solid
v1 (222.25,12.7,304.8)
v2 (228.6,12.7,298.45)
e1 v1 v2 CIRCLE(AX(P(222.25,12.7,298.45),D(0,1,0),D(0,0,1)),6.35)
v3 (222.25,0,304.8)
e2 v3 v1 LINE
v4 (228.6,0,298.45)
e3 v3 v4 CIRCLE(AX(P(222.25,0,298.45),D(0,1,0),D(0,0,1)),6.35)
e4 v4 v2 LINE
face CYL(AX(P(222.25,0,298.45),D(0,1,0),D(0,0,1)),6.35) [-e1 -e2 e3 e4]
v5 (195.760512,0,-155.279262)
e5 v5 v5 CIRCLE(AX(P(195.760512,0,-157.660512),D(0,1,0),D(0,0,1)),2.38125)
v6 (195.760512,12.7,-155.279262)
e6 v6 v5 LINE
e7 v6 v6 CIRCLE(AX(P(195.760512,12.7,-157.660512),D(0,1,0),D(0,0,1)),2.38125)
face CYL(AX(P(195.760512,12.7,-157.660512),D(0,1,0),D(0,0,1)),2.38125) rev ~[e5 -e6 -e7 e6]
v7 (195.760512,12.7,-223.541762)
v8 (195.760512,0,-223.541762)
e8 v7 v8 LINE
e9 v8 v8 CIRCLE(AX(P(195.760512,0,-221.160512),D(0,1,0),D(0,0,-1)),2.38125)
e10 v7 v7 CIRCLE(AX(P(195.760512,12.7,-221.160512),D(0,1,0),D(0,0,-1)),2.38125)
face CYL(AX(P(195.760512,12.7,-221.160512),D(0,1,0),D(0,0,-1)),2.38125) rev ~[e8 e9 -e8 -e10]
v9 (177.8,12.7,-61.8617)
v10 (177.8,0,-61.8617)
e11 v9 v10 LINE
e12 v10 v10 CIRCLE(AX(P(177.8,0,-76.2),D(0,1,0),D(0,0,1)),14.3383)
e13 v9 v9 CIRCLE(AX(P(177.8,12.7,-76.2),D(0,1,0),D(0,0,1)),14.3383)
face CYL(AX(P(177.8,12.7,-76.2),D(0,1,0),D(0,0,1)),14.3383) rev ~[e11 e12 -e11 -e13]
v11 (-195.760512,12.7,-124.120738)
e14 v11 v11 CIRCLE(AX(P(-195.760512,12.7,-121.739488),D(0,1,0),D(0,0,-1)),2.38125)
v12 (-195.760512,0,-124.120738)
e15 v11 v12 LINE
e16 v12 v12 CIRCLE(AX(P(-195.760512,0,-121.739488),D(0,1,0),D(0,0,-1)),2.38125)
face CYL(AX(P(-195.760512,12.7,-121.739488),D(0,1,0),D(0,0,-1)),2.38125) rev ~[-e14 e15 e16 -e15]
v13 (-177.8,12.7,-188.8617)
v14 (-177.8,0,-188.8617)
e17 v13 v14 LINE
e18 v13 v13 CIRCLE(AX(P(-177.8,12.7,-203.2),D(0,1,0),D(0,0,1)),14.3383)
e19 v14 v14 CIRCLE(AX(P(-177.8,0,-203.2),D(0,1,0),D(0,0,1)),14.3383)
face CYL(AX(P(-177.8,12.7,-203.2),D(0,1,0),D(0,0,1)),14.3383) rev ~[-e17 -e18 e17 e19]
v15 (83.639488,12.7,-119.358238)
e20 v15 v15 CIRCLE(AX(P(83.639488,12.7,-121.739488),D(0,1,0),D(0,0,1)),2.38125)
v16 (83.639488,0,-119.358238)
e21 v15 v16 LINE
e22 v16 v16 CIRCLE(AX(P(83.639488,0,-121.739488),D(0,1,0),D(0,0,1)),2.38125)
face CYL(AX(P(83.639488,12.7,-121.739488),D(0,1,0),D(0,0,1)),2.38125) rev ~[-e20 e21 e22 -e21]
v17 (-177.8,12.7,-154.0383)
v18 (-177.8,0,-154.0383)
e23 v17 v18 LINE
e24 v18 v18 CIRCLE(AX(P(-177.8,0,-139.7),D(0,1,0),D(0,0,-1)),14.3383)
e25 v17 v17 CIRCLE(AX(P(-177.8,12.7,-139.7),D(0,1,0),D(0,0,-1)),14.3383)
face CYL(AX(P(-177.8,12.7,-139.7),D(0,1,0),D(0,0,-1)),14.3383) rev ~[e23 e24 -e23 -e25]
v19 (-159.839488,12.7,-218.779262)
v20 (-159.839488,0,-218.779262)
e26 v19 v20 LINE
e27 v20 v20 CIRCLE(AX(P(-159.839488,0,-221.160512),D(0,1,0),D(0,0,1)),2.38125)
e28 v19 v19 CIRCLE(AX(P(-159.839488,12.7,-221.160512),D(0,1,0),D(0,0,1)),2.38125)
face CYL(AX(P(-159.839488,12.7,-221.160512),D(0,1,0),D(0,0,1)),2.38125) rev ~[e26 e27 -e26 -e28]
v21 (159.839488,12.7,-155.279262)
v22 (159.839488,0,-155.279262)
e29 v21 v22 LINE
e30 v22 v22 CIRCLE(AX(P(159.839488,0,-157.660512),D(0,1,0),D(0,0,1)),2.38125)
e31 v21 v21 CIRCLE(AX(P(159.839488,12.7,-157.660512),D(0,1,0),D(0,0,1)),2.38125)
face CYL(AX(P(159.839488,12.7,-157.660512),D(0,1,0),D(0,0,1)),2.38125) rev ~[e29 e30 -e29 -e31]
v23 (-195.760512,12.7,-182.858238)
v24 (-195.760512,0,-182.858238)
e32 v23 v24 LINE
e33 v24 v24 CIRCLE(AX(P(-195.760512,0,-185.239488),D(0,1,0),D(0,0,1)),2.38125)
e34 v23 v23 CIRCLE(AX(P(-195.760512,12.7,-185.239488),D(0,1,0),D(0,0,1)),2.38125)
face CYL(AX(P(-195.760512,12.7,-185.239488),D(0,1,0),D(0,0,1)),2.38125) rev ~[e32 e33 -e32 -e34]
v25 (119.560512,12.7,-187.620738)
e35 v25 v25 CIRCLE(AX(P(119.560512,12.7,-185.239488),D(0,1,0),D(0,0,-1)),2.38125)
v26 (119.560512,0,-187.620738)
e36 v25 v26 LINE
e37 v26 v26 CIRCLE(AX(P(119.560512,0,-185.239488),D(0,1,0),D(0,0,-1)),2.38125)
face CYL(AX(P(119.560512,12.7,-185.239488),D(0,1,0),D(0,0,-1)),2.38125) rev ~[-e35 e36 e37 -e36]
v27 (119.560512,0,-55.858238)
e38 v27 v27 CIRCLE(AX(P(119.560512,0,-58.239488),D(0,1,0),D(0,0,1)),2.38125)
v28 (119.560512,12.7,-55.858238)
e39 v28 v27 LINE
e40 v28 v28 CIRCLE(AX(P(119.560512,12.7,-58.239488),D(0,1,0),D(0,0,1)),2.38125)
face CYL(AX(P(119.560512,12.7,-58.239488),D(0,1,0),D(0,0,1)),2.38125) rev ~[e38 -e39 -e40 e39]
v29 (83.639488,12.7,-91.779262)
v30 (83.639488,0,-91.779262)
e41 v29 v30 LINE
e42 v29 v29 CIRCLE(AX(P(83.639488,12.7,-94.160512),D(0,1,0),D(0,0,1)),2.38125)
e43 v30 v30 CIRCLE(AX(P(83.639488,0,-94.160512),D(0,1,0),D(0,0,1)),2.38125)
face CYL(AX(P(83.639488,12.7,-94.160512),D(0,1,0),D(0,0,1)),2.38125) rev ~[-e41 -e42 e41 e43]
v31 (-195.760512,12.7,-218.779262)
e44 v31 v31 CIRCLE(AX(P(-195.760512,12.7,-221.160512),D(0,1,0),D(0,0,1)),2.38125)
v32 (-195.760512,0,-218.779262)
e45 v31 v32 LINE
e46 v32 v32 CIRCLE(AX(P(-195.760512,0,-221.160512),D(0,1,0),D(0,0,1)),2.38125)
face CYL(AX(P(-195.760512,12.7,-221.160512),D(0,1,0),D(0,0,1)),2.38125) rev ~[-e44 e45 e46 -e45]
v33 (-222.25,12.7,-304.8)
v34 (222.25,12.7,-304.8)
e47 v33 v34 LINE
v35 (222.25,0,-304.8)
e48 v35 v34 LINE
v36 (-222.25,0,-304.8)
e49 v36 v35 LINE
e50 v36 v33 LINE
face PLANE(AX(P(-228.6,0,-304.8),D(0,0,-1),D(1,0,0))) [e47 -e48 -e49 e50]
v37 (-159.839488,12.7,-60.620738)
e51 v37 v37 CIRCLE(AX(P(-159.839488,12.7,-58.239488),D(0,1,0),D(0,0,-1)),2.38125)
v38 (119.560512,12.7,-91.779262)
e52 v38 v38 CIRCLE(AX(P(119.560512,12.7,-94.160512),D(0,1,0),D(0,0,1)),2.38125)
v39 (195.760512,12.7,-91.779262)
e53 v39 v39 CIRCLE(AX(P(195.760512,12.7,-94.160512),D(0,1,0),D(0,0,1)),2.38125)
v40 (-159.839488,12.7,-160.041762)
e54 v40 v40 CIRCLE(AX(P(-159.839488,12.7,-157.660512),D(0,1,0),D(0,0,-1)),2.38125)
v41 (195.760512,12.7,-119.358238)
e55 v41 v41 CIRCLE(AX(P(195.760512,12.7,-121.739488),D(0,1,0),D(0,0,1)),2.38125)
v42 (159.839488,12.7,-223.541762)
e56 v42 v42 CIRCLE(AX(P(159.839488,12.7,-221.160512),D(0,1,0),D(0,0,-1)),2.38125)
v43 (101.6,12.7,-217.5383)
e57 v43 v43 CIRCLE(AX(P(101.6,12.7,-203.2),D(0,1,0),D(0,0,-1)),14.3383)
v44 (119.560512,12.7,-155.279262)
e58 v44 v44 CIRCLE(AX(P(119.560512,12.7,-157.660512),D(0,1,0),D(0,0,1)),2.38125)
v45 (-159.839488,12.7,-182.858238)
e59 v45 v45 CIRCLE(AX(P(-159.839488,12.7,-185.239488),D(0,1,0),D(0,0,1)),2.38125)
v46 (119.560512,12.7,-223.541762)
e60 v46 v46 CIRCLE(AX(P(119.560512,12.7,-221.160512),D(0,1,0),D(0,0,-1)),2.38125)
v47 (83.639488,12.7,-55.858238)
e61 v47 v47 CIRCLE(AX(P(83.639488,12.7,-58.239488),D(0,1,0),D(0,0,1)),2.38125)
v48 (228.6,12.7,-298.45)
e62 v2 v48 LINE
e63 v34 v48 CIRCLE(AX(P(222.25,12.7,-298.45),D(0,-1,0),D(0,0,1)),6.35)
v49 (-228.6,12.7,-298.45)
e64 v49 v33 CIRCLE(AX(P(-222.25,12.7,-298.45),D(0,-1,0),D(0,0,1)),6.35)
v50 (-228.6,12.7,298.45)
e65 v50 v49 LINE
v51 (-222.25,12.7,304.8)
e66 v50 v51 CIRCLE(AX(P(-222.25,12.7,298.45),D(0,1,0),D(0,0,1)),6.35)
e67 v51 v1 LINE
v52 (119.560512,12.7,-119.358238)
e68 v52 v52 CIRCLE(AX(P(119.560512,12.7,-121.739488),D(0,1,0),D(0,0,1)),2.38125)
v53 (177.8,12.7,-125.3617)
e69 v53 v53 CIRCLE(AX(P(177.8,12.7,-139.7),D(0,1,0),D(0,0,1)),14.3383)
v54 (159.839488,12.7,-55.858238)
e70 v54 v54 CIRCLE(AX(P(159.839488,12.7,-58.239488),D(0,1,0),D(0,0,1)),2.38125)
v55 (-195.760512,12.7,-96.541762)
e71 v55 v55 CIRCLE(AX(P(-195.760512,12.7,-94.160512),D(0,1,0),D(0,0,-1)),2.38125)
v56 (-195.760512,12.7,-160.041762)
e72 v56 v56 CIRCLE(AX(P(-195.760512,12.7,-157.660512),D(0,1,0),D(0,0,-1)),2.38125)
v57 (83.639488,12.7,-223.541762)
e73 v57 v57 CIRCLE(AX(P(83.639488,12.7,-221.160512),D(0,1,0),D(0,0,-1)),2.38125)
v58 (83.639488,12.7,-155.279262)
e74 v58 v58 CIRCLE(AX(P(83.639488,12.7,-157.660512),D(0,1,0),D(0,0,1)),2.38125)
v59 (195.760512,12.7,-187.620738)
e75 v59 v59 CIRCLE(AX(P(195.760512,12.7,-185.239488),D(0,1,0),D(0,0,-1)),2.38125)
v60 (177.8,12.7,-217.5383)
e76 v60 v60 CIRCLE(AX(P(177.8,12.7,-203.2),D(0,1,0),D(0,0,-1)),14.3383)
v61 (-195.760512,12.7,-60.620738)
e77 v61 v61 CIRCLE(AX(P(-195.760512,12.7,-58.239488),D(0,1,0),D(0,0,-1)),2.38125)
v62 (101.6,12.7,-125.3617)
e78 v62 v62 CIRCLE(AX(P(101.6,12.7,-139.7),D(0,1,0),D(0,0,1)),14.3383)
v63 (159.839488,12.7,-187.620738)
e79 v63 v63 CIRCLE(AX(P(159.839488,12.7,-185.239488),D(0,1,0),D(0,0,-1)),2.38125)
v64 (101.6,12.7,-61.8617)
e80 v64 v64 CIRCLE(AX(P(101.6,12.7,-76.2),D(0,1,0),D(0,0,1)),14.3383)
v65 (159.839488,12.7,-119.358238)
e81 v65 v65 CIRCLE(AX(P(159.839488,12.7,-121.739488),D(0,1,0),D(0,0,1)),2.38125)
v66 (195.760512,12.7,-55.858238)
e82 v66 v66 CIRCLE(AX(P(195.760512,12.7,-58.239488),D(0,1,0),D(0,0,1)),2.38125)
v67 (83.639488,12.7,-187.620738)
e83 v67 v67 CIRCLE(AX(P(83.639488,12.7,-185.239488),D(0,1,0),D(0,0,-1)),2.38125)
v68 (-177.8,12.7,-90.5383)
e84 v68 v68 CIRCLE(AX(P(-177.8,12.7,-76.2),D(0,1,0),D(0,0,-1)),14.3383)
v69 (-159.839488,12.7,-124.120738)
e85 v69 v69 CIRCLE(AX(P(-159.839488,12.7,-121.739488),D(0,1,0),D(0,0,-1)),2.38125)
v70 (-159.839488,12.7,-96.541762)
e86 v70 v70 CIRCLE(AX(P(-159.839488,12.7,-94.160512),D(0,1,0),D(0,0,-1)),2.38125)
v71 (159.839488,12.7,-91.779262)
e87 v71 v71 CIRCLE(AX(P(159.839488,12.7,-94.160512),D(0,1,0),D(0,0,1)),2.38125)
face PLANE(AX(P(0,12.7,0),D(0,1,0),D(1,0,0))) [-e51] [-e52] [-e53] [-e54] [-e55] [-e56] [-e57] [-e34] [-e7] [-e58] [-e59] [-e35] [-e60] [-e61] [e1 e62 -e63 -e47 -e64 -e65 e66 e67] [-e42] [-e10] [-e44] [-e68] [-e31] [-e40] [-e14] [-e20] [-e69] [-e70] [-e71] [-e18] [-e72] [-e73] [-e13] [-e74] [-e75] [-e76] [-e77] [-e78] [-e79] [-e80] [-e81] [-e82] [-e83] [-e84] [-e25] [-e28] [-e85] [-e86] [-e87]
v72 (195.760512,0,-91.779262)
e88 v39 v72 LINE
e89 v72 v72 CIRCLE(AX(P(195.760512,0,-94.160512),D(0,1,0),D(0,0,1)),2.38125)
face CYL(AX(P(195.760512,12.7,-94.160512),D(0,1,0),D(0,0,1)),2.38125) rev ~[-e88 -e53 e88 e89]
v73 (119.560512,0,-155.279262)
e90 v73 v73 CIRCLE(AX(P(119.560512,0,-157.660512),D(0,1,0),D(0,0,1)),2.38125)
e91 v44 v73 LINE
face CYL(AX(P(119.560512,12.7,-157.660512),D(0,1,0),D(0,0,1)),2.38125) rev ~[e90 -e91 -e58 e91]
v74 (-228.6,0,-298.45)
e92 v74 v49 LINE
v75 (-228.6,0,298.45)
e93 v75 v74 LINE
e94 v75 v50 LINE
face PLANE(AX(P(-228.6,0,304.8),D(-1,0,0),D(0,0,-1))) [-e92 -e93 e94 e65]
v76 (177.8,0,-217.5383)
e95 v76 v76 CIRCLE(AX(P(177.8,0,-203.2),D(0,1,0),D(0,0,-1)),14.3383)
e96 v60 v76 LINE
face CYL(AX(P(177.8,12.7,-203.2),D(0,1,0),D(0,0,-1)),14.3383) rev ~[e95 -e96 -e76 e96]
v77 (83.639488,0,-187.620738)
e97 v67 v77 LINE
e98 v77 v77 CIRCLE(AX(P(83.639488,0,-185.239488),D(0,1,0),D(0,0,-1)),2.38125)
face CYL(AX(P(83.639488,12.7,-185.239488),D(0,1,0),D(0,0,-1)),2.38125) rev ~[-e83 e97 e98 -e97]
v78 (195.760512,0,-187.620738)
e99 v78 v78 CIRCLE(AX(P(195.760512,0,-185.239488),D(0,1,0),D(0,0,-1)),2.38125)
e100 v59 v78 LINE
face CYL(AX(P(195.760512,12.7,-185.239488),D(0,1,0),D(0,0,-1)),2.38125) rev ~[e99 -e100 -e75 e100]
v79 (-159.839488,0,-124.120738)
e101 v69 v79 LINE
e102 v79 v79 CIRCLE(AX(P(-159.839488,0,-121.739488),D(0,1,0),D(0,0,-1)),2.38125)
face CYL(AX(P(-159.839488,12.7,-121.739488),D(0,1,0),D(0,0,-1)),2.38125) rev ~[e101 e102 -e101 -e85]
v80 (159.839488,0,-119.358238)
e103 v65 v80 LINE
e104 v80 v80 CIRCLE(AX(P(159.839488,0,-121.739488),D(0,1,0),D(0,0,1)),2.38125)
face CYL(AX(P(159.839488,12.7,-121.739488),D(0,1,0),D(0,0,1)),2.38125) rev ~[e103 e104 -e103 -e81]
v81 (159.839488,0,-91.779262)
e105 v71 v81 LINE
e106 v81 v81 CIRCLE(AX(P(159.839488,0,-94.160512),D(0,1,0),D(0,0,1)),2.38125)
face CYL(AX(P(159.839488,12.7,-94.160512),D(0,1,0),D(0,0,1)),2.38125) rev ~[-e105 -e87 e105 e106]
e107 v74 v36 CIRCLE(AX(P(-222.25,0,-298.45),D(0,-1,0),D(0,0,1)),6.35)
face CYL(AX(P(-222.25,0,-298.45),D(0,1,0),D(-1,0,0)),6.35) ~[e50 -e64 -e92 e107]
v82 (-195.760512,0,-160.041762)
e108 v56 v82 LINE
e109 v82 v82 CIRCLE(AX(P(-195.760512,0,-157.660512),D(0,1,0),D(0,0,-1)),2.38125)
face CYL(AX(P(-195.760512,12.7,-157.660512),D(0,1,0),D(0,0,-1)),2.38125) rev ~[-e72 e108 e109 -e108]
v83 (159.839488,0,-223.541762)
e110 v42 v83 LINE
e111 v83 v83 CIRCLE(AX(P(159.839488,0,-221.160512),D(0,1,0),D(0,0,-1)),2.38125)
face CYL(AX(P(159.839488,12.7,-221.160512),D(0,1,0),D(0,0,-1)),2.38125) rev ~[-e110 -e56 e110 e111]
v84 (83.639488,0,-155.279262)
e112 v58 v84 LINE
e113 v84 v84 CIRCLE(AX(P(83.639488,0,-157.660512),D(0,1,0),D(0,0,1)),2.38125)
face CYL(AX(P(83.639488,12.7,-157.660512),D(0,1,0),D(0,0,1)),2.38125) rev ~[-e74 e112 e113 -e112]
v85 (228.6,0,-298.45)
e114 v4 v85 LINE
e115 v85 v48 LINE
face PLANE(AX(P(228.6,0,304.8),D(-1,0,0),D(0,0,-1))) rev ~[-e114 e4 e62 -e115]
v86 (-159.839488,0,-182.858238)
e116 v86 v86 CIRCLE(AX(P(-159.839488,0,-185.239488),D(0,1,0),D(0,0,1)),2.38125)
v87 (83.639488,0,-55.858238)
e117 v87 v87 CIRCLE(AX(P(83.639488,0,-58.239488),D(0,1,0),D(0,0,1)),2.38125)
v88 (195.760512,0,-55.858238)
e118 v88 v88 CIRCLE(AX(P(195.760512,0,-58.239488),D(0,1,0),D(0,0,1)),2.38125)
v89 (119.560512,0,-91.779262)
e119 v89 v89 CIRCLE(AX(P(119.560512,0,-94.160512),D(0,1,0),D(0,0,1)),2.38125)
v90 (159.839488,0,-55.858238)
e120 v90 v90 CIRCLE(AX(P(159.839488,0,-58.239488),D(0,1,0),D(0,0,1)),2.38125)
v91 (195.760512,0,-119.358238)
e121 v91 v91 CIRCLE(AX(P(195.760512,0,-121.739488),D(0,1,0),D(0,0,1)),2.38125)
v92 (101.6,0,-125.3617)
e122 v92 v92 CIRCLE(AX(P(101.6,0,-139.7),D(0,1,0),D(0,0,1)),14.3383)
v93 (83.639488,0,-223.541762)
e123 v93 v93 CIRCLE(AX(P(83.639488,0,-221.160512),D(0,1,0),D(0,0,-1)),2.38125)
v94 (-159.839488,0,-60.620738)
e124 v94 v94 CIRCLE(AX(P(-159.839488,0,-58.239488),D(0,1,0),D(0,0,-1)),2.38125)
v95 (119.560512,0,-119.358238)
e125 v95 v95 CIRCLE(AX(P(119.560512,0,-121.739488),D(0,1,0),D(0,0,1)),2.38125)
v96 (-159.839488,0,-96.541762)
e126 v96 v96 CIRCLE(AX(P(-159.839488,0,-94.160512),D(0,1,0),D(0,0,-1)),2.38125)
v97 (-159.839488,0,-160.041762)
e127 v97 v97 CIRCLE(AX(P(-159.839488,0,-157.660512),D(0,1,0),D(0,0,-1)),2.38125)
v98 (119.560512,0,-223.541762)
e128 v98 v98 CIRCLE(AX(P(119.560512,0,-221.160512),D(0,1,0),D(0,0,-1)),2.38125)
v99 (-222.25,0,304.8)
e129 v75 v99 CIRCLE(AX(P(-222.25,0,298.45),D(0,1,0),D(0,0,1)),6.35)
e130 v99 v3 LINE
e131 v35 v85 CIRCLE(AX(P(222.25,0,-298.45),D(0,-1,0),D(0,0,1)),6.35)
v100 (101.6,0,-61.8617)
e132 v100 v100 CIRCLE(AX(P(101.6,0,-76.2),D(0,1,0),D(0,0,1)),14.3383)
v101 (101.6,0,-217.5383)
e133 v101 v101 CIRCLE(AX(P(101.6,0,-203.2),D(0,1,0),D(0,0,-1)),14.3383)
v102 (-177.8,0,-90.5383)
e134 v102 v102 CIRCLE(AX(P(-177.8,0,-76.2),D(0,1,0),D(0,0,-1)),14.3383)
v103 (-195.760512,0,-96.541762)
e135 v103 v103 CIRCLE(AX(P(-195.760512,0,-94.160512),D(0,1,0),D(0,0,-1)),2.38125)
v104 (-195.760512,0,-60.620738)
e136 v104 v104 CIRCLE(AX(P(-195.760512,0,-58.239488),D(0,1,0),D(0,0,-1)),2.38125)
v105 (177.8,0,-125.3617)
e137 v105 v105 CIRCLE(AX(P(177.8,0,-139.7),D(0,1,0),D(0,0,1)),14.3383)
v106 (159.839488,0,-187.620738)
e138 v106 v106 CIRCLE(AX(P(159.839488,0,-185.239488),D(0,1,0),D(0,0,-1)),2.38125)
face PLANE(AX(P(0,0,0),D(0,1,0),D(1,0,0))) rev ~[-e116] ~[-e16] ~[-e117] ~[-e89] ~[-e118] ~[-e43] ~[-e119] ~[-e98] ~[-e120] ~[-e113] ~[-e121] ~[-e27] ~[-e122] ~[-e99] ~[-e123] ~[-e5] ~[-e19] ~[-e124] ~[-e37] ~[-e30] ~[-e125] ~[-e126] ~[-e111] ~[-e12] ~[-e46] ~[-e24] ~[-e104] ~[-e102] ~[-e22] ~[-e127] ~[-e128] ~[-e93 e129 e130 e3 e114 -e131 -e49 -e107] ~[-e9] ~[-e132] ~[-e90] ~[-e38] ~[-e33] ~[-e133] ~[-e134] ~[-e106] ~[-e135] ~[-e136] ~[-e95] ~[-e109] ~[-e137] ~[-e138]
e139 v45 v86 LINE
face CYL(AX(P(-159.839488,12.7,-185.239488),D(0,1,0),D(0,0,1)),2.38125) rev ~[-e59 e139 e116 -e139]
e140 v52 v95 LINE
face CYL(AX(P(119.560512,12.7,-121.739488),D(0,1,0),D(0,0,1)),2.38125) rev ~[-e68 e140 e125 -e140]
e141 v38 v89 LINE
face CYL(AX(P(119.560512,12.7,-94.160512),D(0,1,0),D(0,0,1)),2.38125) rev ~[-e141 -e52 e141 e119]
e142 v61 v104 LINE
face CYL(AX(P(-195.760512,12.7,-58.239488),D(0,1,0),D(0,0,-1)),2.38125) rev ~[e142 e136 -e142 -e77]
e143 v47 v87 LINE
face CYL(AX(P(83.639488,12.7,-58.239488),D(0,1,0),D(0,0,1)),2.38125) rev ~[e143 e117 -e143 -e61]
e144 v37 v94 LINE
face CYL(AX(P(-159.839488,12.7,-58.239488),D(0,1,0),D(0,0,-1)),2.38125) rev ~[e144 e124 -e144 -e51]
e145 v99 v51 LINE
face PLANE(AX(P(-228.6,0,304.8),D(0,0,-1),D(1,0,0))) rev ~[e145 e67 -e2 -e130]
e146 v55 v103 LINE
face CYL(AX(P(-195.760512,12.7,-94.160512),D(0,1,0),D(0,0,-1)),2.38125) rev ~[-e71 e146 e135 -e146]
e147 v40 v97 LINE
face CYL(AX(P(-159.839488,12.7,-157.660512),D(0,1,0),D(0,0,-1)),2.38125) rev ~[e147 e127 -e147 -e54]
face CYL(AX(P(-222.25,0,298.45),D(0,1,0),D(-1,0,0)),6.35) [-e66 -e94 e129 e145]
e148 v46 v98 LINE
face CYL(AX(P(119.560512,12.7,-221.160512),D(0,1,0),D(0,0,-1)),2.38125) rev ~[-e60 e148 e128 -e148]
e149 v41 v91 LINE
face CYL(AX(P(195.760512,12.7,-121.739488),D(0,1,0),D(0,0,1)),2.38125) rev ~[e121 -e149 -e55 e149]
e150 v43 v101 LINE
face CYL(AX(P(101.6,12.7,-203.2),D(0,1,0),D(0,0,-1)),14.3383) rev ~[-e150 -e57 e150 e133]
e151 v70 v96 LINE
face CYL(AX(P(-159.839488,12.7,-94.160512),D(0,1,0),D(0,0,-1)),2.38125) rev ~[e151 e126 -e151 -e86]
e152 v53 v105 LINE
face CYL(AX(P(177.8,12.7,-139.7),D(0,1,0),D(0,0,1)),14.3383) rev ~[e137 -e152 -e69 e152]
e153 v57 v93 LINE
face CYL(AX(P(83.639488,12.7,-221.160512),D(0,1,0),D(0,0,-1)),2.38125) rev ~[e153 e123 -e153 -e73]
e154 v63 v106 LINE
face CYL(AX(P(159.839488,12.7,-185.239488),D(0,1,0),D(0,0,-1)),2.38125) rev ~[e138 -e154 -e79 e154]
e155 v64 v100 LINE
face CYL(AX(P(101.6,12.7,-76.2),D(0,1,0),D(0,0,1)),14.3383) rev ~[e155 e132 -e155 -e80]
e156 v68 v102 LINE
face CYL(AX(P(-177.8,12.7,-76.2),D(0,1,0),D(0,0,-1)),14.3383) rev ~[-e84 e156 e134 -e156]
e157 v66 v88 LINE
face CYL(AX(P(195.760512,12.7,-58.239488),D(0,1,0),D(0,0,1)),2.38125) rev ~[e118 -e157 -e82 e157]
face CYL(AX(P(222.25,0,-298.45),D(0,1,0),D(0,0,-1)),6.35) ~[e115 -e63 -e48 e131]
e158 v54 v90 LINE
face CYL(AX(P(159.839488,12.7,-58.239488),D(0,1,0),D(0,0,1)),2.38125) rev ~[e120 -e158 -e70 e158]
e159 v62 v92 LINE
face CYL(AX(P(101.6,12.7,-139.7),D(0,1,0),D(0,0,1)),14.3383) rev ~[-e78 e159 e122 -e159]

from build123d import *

# Parameters (mm, degrees)
SKETCH2_W           = 457.2
SKETCH2_H           = 609.6
BOSS_EXTRUDE1_DEPTH = 12.7
SKETCH3_R           = 14.3383
SKETCH3_R_2         = 2.38125
CUT_EXTRUDE1_DEPTH  = 382.211607903
FILLET1_R           = 6.35


with BuildPart() as part:
    # Sketch2 → Boss-Extrude1 (new body)
    with BuildSketch(Plane(origin=(0, 0, 0), x_dir=(1, 0, 0), z_dir=(0, 1, 0))):
        Rectangle(SKETCH2_W, SKETCH2_H)
    extrude(amount=BOSS_EXTRUDE1_DEPTH)

    # Sketch3 → Cut-Extrude1 (cut, through all)
    with BuildSketch(Plane(origin=(0, 12.7, 0), x_dir=(1, 0, 0), z_dir=(0, 1, 0))):
        with Locations(Location((-177.8, 203.2, 0), (0, 0, 270))):
            Circle(SKETCH3_R)
        with Locations(Location((-195.760512242, 221.160512242, 0), (0, 0, 270))):
            Circle(SKETCH3_R_2)
        with Locations(Location((-159.839487758, 221.160512242, 0), (0, 0, 270))):
            Circle(SKETCH3_R_2)
        with Locations(Location((-159.839487758, 185.239487758, 0), (0, 0, 270))):
            Circle(SKETCH3_R_2)
        with Locations(Location((-195.760512242, 185.239487758, 0), (0, 0, 270))):
            Circle(SKETCH3_R_2)
        with Locations(Location((195.760512242, 185.239487758, 0), (0, 0, 90))):
            Circle(SKETCH3_R_2)
        with Locations(Location((159.839487758, 185.239487758, 0), (0, 0, 90))):
            Circle(SKETCH3_R_2)
        with Locations(Location((159.839487758, 221.160512242, 0), (0, 0, 90))):
            Circle(SKETCH3_R_2)
        with Locations(Location((195.760512242, 221.160512242, 0), (0, 0, 90))):
            Circle(SKETCH3_R_2)
        with Locations(Location((177.8, 203.2, 0), (0, 0, 90))):
            Circle(SKETCH3_R)
        with Locations(Location((177.8, 139.7, 0), (0, 0, 270))):
            Circle(SKETCH3_R)
        with Locations(Location((195.760512242, 121.739487758, 0), (0, 0, 270))):
            Circle(SKETCH3_R_2)
        with Locations(Location((159.839487758, 121.739487758, 0), (0, 0, 270))):
            Circle(SKETCH3_R_2)
        with Locations(Location((159.839487758, 157.660512242, 0), (0, 0, 270))):
            Circle(SKETCH3_R_2)
        with Locations(Location((195.760512242, 157.660512242, 0), (0, 0, 270))):
            Circle(SKETCH3_R_2)
        with Locations(Location((-195.760512242, 157.660512242, 0), (0, 0, 90))):
            Circle(SKETCH3_R_2)
        with Locations(Location((-159.839487758, 157.660512242, 0), (0, 0, 90))):
            Circle(SKETCH3_R_2)
        with Locations(Location((-159.839487758, 121.739487758, 0), (0, 0, 90))):
            Circle(SKETCH3_R_2)
        with Locations(Location((-195.760512242, 121.739487758, 0), (0, 0, 90))):
            Circle(SKETCH3_R_2)
        with Locations(Location((-177.8, 139.7, 0), (0, 0, 90))):
            Circle(SKETCH3_R)
        with Locations(Location((177.8, 76.2, 0), (0, 0, 270))):
            Circle(SKETCH3_R)
        with Locations(Location((195.760512242, 58.239487758, 0), (0, 0, 270))):
            Circle(SKETCH3_R_2)
        with Locations(Location((159.839487758, 58.239487758, 0), (0, 0, 270))):
            Circle(SKETCH3_R_2)
        with Locations(Location((159.839487758, 94.160512242, 0), (0, 0, 270))):
            Circle(SKETCH3_R_2)
        with Locations(Location((195.760512242, 94.160512242, 0), (0, 0, 270))):
            Circle(SKETCH3_R_2)
        with Locations(Location((-195.760512242, 94.160512242, 0), (0, 0, 90))):
            Circle(SKETCH3_R_2)
        with Locations(Location((-159.839487758, 94.160512242, 0), (0, 0, 90))):
            Circle(SKETCH3_R_2)
        with Locations(Location((-159.839487758, 58.239487758, 0), (0, 0, 90))):
            Circle(SKETCH3_R_2)
        with Locations(Location((-195.760512242, 58.239487758, 0), (0, 0, 90))):
            Circle(SKETCH3_R_2)
        with Locations(Location((-177.8, 76.2, 0), (0, 0, 90))):
            Circle(SKETCH3_R)
        with Locations(Location((101.6, 76.2, 0), (0, 0, 270))):
            Circle(SKETCH3_R)
        with Locations(Location((119.560512242, 58.239487758, 0), (0, 0, 270))):
            Circle(SKETCH3_R_2)
        with Locations(Location((83.639487758, 58.239487758, 0), (0, 0, 270))):
            Circle(SKETCH3_R_2)
        with Locations(Location((83.639487758, 94.160512242, 0), (0, 0, 270))):
            Circle(SKETCH3_R_2)
        with Locations(Location((119.560512242, 94.160512242, 0), (0, 0, 270))):
            Circle(SKETCH3_R_2)
        with Locations(Location((101.6, 139.7, 0), (0, 0, 270))):
            Circle(SKETCH3_R)
        with Locations(Location((119.560512242, 121.739487758, 0), (0, 0, 270))):
            Circle(SKETCH3_R_2)
        with Locations(Location((83.639487758, 121.739487758, 0), (0, 0, 270))):
            Circle(SKETCH3_R_2)
        with Locations(Location((83.639487758, 157.660512242, 0), (0, 0, 270))):
            Circle(SKETCH3_R_2)
        with Locations(Location((119.560512242, 157.660512242, 0), (0, 0, 270))):
            Circle(SKETCH3_R_2)
        with Locations(Location((119.560512242, 185.239487758, 0), (0, 0, 90))):
            Circle(SKETCH3_R_2)
        with Locations(Location((83.639487758, 185.239487758, 0), (0, 0, 90))):
            Circle(SKETCH3_R_2)
        with Locations(Location((83.639487758, 221.160512242, 0), (0, 0, 90))):
            Circle(SKETCH3_R_2)
        with Locations(Location((119.560512242, 221.160512242, 0), (0, 0, 90))):
            Circle(SKETCH3_R_2)
        with Locations(Location((101.6, 203.2, 0), (0, 0, 90))):
            Circle(SKETCH3_R)
    extrude(amount=-CUT_EXTRUDE1_DEPTH, mode=Mode.SUBTRACT)

    # Fillet1
    fillet1_edges = [part.edges().sort_by_distance(p)[0] for p in [
        (228.6, 6.35, 304.8),
        (-228.6, 6.35, 304.8),
        (-228.6, 6.35, -304.8),
        (228.6, 6.35, -304.8),
    ]]
    fillet(fillet1_edges, radius=FILLET1_R)


solid = part.part
